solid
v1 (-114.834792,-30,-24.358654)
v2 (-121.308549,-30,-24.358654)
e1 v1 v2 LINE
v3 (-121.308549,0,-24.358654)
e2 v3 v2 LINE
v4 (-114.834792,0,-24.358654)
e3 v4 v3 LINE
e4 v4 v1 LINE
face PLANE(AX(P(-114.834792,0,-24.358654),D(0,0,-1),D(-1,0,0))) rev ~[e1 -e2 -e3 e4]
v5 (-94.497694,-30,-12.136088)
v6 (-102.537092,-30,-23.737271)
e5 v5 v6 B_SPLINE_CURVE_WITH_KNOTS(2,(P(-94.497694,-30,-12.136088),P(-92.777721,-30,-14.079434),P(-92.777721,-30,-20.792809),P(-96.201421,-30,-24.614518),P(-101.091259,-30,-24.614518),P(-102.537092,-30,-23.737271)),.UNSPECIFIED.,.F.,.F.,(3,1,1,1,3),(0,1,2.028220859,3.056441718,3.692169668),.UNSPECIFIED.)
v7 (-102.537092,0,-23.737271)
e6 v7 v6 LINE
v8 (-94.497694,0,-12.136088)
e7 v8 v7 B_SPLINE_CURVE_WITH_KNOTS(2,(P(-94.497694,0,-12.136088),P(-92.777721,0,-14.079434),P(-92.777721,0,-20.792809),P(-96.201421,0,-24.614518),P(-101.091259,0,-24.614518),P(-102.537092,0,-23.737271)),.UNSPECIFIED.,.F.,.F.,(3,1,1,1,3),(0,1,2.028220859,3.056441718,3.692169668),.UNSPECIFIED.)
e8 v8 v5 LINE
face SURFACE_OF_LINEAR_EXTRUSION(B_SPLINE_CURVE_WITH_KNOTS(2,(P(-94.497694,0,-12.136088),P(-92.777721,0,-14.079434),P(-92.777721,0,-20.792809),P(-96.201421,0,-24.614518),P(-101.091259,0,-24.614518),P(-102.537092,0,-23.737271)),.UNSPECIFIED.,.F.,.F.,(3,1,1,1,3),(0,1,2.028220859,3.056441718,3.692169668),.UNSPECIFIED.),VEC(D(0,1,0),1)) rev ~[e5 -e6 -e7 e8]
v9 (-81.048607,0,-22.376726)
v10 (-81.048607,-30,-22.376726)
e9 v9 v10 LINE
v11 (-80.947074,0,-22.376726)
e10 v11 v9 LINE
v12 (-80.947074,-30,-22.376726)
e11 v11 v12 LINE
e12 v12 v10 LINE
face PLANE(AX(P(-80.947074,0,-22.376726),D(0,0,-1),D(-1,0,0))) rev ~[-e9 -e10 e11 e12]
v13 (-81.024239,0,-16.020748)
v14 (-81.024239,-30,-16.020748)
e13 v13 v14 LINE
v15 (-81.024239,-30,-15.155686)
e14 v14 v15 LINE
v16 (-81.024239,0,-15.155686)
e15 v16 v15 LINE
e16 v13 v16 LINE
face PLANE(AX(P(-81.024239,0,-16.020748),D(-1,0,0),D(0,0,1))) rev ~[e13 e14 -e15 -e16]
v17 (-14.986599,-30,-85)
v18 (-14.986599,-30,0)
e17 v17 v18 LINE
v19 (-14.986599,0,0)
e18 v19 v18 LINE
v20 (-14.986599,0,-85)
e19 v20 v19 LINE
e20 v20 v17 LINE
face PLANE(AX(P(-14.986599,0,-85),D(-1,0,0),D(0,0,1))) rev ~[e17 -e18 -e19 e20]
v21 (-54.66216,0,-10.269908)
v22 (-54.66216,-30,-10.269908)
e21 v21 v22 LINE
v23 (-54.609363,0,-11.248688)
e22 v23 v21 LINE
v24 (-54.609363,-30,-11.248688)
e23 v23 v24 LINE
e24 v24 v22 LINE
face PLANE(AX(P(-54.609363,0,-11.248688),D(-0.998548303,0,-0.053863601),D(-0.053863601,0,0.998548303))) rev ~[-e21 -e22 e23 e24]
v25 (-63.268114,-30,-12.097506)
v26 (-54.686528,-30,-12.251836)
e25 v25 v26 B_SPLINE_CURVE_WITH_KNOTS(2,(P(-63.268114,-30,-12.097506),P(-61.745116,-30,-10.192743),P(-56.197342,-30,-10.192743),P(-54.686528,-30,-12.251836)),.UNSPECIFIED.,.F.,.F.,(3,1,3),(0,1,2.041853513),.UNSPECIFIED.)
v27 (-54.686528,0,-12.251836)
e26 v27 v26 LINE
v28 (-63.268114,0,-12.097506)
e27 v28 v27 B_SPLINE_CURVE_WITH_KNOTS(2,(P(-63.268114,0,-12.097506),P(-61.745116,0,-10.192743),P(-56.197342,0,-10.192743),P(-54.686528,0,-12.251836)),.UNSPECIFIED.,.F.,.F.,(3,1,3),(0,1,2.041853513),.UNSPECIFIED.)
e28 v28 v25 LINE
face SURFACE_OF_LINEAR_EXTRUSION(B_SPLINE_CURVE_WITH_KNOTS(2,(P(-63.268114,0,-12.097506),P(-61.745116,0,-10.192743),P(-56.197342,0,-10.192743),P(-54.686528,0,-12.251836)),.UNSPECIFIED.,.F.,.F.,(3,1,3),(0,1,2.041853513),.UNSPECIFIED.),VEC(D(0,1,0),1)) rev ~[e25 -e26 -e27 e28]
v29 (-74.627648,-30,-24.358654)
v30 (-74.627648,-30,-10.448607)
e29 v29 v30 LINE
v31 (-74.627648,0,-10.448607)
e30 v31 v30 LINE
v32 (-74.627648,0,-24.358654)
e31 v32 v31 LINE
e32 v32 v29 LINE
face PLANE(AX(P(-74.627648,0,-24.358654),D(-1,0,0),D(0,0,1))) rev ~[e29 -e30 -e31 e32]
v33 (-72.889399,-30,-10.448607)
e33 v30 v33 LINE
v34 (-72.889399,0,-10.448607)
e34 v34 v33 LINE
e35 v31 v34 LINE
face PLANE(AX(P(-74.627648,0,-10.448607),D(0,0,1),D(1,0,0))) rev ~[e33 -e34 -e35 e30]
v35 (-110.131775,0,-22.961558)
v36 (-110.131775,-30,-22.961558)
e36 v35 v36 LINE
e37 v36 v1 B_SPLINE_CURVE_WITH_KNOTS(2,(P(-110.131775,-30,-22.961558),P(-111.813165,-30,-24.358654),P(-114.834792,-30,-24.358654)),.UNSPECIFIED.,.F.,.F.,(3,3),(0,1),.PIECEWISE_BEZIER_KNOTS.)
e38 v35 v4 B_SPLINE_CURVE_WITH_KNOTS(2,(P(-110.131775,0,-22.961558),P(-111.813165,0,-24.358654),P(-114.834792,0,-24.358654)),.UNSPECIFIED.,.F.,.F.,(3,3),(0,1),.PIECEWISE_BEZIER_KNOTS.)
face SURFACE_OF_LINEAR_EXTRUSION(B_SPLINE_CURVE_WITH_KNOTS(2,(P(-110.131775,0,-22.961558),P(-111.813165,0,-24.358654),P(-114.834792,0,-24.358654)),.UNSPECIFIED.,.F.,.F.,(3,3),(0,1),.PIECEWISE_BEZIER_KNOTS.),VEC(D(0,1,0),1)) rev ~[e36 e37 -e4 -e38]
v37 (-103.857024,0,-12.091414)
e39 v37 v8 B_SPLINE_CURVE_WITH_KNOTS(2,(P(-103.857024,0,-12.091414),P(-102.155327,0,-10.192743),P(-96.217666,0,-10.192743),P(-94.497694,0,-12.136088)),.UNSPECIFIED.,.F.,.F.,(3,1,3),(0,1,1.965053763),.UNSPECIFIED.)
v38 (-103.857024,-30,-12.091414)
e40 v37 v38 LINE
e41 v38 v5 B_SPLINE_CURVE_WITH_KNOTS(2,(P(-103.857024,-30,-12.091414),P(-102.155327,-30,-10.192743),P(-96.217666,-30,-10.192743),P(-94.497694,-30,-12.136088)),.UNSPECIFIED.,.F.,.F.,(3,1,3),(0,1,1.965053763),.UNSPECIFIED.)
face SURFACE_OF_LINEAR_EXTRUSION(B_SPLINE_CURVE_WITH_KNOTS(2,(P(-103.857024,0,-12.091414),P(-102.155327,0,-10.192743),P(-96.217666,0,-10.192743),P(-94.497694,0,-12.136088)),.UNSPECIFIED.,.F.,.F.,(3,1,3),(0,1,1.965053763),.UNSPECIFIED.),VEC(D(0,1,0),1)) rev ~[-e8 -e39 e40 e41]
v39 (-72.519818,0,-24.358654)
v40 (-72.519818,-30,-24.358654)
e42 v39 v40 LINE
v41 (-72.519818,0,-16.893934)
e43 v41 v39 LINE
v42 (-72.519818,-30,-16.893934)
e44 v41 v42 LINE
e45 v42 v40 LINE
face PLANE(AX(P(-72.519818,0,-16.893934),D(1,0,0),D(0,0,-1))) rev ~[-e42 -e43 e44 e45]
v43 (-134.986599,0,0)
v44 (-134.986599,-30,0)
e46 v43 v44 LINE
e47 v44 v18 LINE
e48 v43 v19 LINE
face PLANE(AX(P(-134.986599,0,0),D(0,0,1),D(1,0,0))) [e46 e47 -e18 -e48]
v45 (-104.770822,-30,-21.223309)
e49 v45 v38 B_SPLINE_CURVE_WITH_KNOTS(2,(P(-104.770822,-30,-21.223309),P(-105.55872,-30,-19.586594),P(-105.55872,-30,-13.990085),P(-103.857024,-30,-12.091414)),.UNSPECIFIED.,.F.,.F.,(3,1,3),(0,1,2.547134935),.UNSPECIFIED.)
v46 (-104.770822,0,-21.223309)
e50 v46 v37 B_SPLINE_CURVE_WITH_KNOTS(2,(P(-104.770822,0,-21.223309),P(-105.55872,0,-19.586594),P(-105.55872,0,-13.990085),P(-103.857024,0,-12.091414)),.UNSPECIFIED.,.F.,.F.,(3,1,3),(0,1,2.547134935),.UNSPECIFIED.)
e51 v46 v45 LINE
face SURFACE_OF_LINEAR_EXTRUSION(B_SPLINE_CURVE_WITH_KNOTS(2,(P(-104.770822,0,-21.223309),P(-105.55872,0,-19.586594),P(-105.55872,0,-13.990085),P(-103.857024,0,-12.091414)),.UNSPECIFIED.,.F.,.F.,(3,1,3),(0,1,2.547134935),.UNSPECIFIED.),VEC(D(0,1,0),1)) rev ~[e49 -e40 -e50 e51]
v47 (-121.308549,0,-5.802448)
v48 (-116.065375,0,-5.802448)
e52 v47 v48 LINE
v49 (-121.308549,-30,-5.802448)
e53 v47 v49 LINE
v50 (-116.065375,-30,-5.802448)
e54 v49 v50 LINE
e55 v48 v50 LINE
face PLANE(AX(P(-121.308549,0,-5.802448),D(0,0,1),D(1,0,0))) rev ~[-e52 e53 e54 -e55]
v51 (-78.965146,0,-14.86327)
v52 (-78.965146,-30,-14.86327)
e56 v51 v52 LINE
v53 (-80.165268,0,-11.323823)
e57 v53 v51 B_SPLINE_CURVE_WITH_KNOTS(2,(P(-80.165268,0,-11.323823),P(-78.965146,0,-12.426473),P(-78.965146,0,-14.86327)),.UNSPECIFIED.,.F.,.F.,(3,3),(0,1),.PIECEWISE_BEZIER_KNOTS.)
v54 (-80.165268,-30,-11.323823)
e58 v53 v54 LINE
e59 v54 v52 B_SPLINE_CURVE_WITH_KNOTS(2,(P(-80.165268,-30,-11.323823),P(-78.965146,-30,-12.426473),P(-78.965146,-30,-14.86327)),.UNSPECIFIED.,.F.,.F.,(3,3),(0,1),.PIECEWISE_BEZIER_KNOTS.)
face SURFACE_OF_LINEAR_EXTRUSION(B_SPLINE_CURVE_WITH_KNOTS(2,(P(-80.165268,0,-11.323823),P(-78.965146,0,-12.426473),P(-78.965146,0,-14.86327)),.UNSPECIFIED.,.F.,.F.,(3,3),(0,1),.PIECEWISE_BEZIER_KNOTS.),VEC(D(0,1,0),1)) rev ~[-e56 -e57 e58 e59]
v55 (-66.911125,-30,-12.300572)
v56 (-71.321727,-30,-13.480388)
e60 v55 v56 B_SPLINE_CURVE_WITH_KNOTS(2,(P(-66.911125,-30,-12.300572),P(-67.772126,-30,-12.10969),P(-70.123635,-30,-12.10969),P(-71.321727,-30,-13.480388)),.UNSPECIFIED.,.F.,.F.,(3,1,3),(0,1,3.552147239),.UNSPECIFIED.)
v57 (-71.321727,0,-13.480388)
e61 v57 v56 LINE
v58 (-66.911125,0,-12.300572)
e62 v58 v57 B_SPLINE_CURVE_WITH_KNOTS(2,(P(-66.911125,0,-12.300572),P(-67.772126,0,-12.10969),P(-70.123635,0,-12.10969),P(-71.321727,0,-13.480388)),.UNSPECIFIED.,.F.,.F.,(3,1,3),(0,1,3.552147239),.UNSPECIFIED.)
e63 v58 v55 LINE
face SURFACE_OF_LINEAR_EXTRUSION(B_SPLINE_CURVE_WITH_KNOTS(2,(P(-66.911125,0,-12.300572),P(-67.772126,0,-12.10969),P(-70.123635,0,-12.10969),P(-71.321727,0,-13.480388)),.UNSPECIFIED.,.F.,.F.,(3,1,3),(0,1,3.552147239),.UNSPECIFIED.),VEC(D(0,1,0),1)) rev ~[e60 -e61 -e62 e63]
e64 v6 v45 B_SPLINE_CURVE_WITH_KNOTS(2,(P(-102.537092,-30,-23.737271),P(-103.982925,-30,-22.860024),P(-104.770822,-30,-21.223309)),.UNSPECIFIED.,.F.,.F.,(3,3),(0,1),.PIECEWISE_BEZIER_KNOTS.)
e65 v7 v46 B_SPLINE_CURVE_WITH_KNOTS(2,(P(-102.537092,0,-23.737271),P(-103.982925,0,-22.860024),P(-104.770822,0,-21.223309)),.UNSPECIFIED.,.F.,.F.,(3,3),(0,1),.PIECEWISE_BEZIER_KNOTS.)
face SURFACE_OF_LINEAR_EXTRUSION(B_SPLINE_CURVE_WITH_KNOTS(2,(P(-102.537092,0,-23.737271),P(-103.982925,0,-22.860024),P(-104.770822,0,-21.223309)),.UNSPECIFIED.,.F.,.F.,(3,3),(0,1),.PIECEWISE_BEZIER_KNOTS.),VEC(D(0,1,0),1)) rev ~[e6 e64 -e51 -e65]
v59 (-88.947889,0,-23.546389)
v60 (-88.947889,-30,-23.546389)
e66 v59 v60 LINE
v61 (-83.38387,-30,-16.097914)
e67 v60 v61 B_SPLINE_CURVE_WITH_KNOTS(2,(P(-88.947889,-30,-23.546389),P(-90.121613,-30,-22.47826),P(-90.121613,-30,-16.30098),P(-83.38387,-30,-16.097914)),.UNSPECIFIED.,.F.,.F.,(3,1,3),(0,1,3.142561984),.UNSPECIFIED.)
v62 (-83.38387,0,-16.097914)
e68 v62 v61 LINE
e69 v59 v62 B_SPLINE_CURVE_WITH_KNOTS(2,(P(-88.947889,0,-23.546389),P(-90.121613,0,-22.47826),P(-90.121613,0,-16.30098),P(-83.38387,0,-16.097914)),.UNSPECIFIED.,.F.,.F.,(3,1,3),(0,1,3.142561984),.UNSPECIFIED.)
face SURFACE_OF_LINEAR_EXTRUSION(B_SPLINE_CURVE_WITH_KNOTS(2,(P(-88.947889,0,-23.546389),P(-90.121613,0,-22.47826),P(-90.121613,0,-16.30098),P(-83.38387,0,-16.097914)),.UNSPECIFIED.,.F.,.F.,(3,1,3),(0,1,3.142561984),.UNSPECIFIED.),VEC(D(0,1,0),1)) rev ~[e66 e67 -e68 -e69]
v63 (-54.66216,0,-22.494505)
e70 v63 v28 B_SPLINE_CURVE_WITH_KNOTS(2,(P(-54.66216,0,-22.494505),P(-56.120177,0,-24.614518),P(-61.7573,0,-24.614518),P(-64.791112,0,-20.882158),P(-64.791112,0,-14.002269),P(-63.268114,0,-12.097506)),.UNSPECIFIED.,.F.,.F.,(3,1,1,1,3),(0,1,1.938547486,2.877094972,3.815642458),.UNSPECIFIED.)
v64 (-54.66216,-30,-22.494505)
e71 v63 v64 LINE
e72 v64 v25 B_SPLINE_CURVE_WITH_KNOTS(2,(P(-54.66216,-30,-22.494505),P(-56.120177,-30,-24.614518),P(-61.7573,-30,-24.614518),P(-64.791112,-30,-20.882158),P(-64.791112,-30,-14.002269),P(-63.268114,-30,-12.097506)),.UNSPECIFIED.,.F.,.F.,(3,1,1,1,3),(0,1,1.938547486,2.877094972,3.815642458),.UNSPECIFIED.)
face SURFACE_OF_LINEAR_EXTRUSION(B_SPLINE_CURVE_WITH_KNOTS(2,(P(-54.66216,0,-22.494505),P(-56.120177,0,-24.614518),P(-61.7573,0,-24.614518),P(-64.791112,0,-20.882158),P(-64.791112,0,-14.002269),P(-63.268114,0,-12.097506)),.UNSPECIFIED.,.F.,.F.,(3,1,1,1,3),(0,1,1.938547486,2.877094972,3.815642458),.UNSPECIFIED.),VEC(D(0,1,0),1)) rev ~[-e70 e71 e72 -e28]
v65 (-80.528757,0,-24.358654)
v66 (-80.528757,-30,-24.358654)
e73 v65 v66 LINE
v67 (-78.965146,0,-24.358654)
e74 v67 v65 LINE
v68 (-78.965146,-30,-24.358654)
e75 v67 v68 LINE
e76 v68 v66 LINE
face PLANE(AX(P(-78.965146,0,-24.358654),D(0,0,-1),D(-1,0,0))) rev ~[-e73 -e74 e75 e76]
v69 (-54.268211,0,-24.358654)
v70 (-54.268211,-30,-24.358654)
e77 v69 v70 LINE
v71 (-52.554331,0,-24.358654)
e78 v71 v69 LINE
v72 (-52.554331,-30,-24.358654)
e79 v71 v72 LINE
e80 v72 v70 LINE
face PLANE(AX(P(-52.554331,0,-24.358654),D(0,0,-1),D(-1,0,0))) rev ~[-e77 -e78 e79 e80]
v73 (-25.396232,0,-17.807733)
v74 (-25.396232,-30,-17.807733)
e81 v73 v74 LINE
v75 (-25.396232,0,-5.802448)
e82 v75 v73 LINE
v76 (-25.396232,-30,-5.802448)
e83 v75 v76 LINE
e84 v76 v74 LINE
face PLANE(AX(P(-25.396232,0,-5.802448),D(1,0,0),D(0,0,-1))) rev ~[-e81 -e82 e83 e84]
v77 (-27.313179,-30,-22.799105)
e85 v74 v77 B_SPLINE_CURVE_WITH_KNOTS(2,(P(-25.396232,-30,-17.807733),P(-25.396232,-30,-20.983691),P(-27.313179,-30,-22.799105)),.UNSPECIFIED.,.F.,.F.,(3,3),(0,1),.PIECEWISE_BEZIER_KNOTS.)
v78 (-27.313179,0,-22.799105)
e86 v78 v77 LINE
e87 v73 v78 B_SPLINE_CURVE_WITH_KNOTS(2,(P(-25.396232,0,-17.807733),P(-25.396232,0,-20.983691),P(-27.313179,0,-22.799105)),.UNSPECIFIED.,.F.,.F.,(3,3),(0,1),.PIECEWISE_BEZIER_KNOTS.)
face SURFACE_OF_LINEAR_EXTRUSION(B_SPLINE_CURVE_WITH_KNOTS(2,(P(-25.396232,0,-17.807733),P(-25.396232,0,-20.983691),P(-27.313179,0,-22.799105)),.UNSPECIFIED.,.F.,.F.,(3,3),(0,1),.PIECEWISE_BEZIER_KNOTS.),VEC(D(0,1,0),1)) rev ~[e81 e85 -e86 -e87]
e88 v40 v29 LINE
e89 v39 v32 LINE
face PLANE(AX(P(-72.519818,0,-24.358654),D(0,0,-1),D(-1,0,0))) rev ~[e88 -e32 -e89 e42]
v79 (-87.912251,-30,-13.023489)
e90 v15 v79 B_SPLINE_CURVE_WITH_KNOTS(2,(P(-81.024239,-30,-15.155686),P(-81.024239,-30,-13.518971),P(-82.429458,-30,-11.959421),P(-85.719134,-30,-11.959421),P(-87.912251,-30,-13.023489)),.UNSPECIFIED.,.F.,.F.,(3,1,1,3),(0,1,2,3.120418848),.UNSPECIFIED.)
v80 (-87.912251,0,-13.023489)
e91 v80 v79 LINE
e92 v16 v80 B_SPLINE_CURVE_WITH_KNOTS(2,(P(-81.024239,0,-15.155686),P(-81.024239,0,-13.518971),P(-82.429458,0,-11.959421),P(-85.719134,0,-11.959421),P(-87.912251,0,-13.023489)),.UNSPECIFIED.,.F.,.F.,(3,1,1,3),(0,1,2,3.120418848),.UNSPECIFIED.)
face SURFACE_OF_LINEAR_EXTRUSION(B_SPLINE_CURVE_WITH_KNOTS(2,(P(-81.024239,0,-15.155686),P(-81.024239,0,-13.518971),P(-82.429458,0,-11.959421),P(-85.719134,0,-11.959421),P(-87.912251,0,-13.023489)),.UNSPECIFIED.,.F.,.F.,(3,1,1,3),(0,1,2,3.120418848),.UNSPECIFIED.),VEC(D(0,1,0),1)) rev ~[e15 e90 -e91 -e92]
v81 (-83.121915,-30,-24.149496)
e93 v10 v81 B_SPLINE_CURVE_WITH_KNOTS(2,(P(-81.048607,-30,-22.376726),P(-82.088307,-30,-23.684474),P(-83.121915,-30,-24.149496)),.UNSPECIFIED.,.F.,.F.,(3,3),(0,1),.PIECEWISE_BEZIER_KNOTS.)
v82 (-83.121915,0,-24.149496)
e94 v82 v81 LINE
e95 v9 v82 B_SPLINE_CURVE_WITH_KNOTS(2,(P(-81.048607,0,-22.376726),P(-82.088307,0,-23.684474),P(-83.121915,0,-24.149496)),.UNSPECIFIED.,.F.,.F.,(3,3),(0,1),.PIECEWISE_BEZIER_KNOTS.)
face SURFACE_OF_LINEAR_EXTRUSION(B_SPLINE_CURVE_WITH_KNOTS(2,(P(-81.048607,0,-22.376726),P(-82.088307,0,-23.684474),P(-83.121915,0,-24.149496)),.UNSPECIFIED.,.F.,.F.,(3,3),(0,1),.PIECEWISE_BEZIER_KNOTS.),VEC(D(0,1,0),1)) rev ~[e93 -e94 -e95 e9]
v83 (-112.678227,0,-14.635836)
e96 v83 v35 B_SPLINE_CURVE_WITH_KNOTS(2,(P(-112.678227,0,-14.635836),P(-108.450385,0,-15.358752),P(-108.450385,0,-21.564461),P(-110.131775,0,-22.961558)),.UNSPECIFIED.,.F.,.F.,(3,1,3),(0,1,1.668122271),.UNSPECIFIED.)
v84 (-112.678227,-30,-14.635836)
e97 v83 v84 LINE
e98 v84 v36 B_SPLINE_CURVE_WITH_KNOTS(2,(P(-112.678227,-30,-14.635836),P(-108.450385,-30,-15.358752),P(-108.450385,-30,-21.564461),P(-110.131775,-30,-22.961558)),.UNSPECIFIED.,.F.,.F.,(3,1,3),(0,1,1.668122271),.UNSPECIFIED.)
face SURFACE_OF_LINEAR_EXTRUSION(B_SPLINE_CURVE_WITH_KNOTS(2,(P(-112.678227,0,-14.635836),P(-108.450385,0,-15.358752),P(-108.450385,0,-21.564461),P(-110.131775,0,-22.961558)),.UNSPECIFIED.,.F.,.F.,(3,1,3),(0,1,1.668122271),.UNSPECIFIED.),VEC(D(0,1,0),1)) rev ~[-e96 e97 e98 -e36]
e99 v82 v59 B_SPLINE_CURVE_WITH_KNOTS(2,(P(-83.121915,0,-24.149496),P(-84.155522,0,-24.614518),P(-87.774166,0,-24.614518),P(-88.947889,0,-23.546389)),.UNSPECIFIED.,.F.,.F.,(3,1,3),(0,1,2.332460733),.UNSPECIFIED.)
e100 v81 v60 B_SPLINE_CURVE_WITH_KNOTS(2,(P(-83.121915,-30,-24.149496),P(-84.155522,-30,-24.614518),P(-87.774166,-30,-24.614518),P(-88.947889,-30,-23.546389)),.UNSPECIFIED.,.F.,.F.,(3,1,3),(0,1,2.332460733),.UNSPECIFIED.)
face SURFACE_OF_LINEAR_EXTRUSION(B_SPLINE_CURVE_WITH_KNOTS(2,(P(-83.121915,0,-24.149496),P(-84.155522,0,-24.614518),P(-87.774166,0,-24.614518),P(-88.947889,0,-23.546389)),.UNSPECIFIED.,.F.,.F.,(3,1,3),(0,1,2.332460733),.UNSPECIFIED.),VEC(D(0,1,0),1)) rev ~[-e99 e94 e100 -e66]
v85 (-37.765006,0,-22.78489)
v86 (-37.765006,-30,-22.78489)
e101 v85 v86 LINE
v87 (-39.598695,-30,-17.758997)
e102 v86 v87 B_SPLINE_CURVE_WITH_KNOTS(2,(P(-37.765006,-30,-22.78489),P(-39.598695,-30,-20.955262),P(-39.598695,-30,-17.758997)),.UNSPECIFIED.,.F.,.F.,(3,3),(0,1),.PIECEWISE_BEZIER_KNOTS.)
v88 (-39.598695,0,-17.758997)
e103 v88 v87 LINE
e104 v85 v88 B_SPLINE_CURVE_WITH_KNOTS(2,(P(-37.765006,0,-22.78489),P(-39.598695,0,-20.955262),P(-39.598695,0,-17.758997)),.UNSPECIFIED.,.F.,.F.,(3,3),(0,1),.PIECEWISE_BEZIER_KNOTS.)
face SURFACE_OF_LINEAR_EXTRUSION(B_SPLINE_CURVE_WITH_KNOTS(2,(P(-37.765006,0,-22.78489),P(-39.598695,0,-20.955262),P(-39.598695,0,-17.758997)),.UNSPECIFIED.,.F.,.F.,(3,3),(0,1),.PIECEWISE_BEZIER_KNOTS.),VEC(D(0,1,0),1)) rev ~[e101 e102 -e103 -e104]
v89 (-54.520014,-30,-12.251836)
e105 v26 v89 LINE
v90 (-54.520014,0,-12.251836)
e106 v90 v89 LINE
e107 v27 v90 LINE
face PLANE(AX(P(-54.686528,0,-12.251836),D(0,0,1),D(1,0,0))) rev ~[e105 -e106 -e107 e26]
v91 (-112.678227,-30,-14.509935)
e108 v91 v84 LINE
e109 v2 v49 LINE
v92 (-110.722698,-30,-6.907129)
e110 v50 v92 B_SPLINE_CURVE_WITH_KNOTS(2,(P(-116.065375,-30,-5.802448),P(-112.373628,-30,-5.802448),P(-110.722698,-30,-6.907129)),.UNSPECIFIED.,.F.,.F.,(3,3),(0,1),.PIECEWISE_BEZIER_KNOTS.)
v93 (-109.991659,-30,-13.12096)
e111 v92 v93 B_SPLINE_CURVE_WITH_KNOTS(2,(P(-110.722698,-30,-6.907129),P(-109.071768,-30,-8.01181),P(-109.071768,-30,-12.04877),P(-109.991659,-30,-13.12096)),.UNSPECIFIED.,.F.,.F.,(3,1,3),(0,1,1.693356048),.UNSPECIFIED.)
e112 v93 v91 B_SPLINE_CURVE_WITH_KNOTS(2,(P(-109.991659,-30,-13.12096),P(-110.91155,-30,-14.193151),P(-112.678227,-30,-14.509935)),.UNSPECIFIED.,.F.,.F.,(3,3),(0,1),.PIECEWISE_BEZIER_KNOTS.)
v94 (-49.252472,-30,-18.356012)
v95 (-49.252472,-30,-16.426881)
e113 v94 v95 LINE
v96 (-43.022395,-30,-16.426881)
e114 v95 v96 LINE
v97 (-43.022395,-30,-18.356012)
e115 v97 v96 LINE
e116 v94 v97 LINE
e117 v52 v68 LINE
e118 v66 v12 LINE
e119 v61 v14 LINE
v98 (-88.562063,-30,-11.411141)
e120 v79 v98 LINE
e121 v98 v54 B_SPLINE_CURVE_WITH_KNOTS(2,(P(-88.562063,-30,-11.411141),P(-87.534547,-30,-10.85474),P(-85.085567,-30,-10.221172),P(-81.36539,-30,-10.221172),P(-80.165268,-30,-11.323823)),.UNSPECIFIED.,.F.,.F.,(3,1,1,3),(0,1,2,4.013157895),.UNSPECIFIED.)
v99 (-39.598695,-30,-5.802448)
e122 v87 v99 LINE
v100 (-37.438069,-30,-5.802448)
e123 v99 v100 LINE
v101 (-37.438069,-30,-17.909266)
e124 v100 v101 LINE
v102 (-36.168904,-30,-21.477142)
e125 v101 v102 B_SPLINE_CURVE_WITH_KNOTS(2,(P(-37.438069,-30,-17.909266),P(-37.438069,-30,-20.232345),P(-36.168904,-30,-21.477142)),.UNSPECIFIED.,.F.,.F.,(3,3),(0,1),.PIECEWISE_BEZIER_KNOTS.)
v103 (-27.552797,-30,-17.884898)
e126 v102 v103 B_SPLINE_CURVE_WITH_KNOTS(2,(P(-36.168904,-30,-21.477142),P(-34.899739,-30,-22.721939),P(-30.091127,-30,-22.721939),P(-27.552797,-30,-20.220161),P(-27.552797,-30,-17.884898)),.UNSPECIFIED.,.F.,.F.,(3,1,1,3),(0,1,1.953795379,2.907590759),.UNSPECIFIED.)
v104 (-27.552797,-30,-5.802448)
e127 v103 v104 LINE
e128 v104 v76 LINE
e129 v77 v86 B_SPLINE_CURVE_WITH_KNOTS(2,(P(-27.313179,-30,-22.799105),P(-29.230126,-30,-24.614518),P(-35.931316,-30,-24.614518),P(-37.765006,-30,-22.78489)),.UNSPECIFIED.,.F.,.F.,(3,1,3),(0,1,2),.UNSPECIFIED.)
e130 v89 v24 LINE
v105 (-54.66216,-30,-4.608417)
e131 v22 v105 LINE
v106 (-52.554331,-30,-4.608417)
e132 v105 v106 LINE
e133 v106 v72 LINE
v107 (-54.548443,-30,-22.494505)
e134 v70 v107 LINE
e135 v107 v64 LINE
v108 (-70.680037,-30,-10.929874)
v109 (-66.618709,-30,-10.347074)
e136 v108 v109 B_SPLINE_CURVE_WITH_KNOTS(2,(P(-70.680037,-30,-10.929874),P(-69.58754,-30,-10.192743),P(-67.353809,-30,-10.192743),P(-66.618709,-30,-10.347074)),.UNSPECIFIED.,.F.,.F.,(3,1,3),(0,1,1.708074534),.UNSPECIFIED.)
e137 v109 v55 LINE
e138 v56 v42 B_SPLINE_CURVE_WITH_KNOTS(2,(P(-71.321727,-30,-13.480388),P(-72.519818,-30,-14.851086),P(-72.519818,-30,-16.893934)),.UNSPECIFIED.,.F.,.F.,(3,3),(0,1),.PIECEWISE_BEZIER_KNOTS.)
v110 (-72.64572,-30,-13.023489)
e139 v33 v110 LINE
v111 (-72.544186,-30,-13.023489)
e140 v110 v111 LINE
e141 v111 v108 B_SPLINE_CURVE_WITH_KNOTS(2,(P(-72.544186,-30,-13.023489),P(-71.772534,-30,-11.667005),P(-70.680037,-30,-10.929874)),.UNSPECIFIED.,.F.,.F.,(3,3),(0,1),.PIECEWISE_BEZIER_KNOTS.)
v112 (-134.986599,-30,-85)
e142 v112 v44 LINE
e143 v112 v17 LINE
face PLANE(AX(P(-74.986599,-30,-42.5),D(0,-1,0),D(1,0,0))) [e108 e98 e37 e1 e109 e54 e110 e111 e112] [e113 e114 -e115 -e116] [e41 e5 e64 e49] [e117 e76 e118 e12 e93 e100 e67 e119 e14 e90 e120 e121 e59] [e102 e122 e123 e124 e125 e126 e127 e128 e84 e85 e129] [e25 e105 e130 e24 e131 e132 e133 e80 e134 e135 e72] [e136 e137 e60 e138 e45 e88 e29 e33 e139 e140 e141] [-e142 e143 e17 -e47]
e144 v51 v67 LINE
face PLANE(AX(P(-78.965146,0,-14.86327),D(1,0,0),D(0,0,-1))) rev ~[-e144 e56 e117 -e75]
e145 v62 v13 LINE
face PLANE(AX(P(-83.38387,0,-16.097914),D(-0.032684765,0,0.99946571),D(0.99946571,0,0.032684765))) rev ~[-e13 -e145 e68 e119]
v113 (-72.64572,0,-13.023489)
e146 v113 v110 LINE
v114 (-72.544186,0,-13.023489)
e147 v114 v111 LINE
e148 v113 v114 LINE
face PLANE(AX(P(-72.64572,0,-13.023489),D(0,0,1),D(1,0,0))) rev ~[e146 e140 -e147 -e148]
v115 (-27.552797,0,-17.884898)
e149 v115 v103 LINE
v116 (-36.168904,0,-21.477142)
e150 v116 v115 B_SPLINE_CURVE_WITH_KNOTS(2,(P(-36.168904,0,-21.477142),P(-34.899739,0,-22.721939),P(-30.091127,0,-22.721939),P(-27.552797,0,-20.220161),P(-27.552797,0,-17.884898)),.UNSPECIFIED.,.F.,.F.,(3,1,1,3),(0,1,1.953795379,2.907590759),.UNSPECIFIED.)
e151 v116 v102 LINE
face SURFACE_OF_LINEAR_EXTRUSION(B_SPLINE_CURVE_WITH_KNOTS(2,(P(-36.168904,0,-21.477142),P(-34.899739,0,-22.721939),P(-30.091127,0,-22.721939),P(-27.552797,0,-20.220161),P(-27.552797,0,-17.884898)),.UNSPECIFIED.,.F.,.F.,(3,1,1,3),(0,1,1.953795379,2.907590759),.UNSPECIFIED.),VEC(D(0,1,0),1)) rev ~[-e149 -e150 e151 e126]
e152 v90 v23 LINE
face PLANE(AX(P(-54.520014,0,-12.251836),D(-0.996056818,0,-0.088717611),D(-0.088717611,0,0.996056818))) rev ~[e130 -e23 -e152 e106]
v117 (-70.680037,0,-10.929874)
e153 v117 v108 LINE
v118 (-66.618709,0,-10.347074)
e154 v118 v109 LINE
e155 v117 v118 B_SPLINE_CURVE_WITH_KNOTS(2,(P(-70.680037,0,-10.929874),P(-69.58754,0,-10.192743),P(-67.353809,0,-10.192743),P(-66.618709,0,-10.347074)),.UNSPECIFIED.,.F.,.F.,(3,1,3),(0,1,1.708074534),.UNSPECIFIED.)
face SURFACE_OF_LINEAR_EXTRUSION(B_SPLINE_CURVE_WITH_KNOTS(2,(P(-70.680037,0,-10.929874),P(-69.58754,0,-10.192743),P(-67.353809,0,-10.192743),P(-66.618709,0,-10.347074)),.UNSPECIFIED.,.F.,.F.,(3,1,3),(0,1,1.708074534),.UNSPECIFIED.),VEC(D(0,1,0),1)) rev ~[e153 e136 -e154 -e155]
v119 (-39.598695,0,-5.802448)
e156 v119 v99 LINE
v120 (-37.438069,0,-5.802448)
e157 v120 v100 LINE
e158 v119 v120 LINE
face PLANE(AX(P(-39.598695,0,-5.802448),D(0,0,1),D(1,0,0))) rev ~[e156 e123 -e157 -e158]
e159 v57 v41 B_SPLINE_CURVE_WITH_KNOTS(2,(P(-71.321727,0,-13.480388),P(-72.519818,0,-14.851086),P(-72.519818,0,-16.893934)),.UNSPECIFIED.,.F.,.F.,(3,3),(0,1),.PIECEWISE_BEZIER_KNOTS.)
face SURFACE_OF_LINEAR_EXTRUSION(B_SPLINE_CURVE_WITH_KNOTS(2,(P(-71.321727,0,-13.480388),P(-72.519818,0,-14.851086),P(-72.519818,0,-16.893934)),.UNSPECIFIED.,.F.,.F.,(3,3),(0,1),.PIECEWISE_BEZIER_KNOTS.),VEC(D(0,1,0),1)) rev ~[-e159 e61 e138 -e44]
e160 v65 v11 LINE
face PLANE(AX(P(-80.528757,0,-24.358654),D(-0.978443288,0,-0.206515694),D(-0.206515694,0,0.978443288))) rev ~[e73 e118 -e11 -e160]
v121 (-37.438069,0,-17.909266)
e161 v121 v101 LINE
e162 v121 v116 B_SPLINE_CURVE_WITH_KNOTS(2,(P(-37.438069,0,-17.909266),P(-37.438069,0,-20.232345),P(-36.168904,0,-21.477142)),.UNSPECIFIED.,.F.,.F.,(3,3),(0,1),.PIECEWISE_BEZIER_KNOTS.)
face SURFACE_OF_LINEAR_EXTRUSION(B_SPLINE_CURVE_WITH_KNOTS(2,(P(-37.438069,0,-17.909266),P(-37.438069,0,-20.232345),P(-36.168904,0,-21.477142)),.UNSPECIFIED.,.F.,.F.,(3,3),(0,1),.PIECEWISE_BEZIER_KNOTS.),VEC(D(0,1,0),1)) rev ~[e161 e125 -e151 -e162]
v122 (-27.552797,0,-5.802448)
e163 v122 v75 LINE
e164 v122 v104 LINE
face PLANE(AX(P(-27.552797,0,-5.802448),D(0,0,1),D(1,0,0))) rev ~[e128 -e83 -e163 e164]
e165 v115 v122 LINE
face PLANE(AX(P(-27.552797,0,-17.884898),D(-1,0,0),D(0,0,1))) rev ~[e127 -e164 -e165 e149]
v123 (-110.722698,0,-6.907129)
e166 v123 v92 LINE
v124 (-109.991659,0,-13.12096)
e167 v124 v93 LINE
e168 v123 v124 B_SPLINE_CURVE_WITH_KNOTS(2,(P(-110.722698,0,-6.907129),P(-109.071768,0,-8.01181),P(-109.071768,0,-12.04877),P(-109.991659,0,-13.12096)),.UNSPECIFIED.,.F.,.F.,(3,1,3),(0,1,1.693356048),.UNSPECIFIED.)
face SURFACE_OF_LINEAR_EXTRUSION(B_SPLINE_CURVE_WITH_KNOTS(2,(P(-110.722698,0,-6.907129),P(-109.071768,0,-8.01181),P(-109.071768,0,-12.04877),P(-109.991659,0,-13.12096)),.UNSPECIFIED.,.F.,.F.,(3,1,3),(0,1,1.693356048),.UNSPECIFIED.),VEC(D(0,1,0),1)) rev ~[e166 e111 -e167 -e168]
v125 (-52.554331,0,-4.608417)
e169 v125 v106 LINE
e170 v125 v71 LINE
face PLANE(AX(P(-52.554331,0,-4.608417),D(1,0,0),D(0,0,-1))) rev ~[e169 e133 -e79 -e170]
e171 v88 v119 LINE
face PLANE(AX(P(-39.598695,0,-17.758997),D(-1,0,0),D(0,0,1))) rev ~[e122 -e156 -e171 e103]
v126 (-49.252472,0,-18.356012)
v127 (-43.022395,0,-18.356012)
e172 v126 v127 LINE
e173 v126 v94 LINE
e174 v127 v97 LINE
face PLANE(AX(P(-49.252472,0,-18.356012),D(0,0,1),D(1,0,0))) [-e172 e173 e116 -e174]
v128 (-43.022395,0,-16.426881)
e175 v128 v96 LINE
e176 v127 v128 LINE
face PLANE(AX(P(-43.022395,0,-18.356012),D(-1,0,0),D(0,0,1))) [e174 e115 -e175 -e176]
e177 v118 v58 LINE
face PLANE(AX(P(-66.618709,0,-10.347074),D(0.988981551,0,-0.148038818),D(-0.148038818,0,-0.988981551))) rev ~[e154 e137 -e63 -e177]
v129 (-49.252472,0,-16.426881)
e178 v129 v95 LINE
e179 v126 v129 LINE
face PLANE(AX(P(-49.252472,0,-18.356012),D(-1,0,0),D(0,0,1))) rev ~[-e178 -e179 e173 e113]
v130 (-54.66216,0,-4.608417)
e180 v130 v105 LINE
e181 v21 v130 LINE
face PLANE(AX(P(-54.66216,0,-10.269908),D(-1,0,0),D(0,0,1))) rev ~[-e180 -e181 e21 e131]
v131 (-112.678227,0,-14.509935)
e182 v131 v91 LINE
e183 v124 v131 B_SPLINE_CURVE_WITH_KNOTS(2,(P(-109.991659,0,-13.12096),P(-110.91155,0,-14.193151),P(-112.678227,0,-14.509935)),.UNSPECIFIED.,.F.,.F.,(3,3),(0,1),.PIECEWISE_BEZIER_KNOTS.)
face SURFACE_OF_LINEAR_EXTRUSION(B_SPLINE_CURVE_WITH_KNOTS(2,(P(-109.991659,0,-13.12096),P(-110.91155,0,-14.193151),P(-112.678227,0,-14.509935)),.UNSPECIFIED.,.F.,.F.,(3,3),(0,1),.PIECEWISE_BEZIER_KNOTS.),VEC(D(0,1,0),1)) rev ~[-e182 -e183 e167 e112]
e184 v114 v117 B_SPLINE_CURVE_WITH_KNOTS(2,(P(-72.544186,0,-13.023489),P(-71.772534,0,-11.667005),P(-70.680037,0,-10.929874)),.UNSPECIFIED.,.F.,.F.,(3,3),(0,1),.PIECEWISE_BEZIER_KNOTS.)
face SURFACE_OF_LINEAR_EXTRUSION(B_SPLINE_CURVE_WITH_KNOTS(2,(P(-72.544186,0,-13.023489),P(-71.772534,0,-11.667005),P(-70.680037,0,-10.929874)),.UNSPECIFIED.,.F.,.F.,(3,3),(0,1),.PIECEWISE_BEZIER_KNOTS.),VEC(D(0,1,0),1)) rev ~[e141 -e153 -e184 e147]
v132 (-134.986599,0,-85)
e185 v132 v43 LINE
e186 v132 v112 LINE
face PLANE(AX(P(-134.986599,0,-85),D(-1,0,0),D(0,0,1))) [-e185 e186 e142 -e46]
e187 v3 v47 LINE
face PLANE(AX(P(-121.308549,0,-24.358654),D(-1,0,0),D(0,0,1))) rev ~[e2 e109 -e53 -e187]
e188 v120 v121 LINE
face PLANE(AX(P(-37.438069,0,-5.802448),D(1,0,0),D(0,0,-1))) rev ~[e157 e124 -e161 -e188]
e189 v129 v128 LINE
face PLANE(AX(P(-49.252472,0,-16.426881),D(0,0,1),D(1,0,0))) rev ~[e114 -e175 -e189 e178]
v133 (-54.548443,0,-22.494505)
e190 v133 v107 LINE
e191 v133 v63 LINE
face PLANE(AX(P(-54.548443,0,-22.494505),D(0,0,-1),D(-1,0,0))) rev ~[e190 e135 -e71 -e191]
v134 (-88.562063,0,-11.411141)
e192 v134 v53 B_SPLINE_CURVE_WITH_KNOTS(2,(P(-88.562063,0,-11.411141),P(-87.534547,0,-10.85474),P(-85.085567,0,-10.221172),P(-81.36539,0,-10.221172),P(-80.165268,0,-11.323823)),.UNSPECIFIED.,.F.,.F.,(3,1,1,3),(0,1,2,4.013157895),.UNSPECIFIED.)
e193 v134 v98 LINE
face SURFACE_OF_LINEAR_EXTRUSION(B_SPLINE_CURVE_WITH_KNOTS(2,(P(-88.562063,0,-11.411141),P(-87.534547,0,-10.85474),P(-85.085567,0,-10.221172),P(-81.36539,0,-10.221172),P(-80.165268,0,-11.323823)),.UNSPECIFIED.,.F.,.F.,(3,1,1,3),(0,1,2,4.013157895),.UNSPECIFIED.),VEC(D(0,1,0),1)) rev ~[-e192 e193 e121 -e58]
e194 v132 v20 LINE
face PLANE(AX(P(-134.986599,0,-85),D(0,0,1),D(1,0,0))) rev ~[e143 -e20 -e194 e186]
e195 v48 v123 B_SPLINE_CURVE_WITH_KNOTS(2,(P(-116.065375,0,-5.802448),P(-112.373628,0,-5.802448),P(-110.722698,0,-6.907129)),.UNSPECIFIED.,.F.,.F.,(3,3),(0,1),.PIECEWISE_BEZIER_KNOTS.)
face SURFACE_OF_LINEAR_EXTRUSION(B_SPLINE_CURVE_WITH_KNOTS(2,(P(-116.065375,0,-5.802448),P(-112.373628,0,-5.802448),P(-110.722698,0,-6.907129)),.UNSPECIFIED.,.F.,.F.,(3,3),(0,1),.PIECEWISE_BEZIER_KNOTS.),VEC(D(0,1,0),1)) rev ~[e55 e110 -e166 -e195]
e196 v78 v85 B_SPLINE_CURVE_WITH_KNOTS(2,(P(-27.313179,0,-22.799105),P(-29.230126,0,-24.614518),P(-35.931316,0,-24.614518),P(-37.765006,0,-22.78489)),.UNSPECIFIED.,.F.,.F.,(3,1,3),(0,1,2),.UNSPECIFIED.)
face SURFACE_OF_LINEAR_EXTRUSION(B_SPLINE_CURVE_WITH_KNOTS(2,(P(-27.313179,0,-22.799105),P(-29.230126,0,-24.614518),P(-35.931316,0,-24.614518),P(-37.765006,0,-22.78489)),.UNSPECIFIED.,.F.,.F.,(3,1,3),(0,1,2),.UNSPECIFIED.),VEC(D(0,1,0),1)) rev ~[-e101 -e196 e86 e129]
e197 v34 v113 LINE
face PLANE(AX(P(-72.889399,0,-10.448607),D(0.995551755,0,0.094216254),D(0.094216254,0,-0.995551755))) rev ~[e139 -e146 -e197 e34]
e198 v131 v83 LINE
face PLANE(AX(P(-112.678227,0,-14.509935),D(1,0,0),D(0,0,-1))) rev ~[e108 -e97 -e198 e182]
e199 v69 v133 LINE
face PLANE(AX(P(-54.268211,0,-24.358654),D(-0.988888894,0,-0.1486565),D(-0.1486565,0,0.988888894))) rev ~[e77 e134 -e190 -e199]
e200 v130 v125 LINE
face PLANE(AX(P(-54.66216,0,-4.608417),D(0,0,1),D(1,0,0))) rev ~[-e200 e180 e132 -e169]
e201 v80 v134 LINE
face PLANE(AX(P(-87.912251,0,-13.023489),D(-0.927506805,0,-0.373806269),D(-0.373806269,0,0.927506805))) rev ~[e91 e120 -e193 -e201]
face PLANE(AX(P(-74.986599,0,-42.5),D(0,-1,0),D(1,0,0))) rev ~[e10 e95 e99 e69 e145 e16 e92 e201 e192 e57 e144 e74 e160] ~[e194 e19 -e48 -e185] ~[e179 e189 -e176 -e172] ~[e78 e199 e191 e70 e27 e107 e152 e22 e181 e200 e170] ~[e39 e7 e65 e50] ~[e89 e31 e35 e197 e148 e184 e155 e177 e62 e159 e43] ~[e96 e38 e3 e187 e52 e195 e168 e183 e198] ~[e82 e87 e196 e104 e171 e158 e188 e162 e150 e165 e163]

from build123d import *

# Parameters (mm, degrees)
F0_W     = 120
F0_H     = 85
F0_W_2   = 6.2300768045
F0_H_2   = 1.9291306924
F1_DEPTH = 30


with BuildPart() as f1:
    # F0 (on Front) → F1 (new body)
    with BuildSketch(Plane.XZ):
        with Locations((-74.9865994975, -42.5)):
            Rectangle(F0_W, F0_H)
        with BuildLine():
            Line((-121.3085489491, -24.3586543947), (-121.3085489491, -5.8024477979))
            Line((-121.3085489491, -5.8024477979), (-116.0653747936, -5.8024477979))
            add(Edge.make_bspline(
                [(-116.0653747936, -5.8024477979), (-112.3736278476, -5.8024477979), (-110.7226981077, -6.9071289523)],
                knots=[0, 0, 0, 1, 1, 1], degree=2))
            add(Edge.make_bspline(
                [(-110.7226981077, -6.9071289523), (-109.0717683678, -8.0118101066), (-109.0717683678, -10.3958095096)],
                knots=[0, 0, 0, 1, 1, 1], degree=2))
            add(Edge.make_bspline(
                [(-109.0717683678, -10.3958095096), (-109.0717683678, -12.0487699134), (-109.9916591084, -13.1209604456)],
                knots=[0, 0, 0, 1, 1, 1], degree=2))
            add(Edge.make_bspline(
                [(-109.9916591084, -13.1209604456), (-110.9115498491, -14.1931509778), (-112.6782274306, -14.5099345441)],
                knots=[0, 0, 0, 1, 1, 1], degree=2))
            Line((-112.6782274306, -14.5099345441), (-112.6782274306, -14.6358357051))
            add(Edge.make_bspline(
                [(-112.6782274306, -14.6358357051), (-108.4503852184, -15.3587520488), (-108.4503852184, -19.0789282893)],
                knots=[0, 0, 0, 1, 1, 1], degree=2))
            add(Edge.make_bspline(
                [(-108.4503852184, -19.0789282893), (-108.4503852184, -21.5644608866), (-110.1317749166, -22.9615576407)],
                knots=[0, 0, 0, 1, 1, 1], degree=2))
            add(Edge.make_bspline(
                [(-110.1317749166, -22.9615576407), (-111.8131646148, -24.3586543947), (-114.8347924783, -24.3586543947)],
                knots=[0, 0, 0, 1, 1, 1], degree=2))
            Line((-114.8347924783, -24.3586543947), (-121.3085489491, -24.3586543947))
        make_face(mode=Mode.SUBTRACT)
        with BuildLine():
            add(Edge.make_bspline(
                [(-94.4976936528, -12.1360884606), (-92.7777213407, -14.0794338002), (-92.7777213407, -17.3894159355)],
                knots=[0, 0, 0, 1, 1, 1], degree=2))
            add(Edge.make_bspline(
                [(-92.7777213407, -17.3894159355), (-92.7777213407, -20.7928086097), (-94.4895709972, -22.7036633271)],
                knots=[0, 0, 0, 1, 1, 1], degree=2))
            add(Edge.make_bspline(
                [(-94.4895709972, -22.7036633271), (-96.2014206537, -24.6145180445), (-99.2230485172, -24.6145180445)],
                knots=[0, 0, 0, 1, 1, 1], degree=2))
            add(Edge.make_bspline(
                [(-99.2230485172, -24.6145180445), (-101.0912592929, -24.6145180445), (-102.5370919803, -23.7372712454)],
                knots=[0, 0, 0, 1, 1, 1], degree=2))
            add(Edge.make_bspline(
                [(-102.5370919803, -23.7372712454), (-103.9829246676, -22.8600244463), (-104.7708222557, -21.2233093536)],
                knots=[0, 0, 0, 1, 1, 1], degree=2))
            add(Edge.make_bspline(
                [(-104.7708222557, -21.2233093536), (-105.5587198437, -19.5865942609), (-105.5587198437, -17.3894159355)],
                knots=[0, 0, 0, 1, 1, 1], degree=2))
            add(Edge.make_bspline(
                [(-105.5587198437, -17.3894159355), (-105.5587198437, -13.9900845891), (-103.8570235067, -12.0914138551)],
                knots=[0, 0, 0, 1, 1, 1], degree=2))
            add(Edge.make_bspline(
                [(-103.8570235067, -12.0914138551), (-102.1553271696, -10.192743121), (-99.1336993061, -10.192743121)],
                knots=[0, 0, 0, 1, 1, 1], degree=2))
            add(Edge.make_bspline(
                [(-99.1336993061, -10.192743121), (-96.2176659648, -10.192743121), (-94.4976936528, -12.1360884606)],
                knots=[0, 0, 0, 1, 1, 1], degree=2))
        make_face(mode=Mode.SUBTRACT)
        with BuildLine():
            Line((-78.9651455832, -24.3586543947), (-80.528756776, -24.3586543947))
            Line((-80.528756776, -24.3586543947), (-80.9470735367, -22.3767264413))
            Line((-80.9470735367, -22.3767264413), (-81.048606731, -22.3767264413))
            add(Edge.make_bspline(
                [(-81.048606731, -22.3767264413), (-82.088306641, -23.6844739844), (-83.1219145593, -24.1494960144)],
                knots=[0, 0, 0, 1, 1, 1], degree=2))
            add(Edge.make_bspline(
                [(-83.1219145593, -24.1494960144), (-84.1555224777, -24.6145180445), (-85.7069496871, -24.6145180445)],
                knots=[0, 0, 0, 1, 1, 1], degree=2))
            add(Edge.make_bspline(
                [(-85.7069496871, -24.6145180445), (-87.7741655238, -24.6145180445), (-88.9478892503, -23.5463888401)],
                knots=[0, 0, 0, 1, 1, 1], degree=2))
            add(Edge.make_bspline(
                [(-88.9478892503, -23.5463888401), (-90.1216129769, -22.4782596356), (-90.1216129769, -20.5125769933)],
                knots=[0, 0, 0, 1, 1, 1], degree=2))
            add(Edge.make_bspline(
                [(-90.1216129769, -20.5125769933), (-90.1216129769, -16.3009800922), (-83.3838702007, -16.0979137036)],
                knots=[0, 0, 0, 1, 1, 1], degree=2))
            Line((-83.3838702007, -16.0979137036), (-81.0242387644, -16.0207484759))
            Line((-81.0242387644, -16.0207484759), (-81.0242387644, -15.1556856601))
            add(Edge.make_bspline(
                [(-81.0242387644, -15.1556856601), (-81.0242387644, -13.5189705674), (-81.7268484692, -12.7391956349)],
                knots=[0, 0, 0, 1, 1, 1], degree=2))
            add(Edge.make_bspline(
                [(-81.7268484692, -12.7391956349), (-82.429458174, -11.9594207024), (-83.9808853834, -11.9594207024)],
                knots=[0, 0, 0, 1, 1, 1], degree=2))
            add(Edge.make_bspline(
                [(-83.9808853834, -11.9594207024), (-85.7191336705, -11.9594207024), (-87.9122506681, -13.0234885791)],
                knots=[0, 0, 0, 1, 1, 1], degree=2))
            Line((-87.9122506681, -13.0234885791), (-88.5620631119, -11.411141453))
            add(Edge.make_bspline(
                [(-88.5620631119, -11.411141453), (-87.5345471852, -10.854739548), (-86.3100568615, -10.5379559817)],
                knots=[0, 0, 0, 1, 1, 1], degree=2))
            add(Edge.make_bspline(
                [(-86.3100568615, -10.5379559817), (-85.0855665378, -10.2211724154), (-83.8509228947, -10.2211724154)],
                knots=[0, 0, 0, 1, 1, 1], degree=2))
            add(Edge.make_bspline(
                [(-83.8509228947, -10.2211724154), (-81.3653902973, -10.2211724154), (-80.1652679403, -11.3238229059)],
                knots=[0, 0, 0, 1, 1, 1], degree=2))
            add(Edge.make_bspline(
                [(-80.1652679403, -11.3238229059), (-78.9651455832, -12.4264733964), (-78.9651455832, -14.8632700604)],
                knots=[0, 0, 0, 1, 1, 1], degree=2))
            Line((-78.9651455832, -14.8632700604), (-78.9651455832, -24.3586543947))
        make_face(mode=Mode.SUBTRACT)
        with BuildLine():
            add(Edge.make_bspline(
                [(-70.6800369254, -10.9298741119), (-69.5875397543, -10.192743121), (-68.2797922113, -10.192743121)],
                knots=[0, 0, 0, 1, 1, 1], degree=2))
            add(Edge.make_bspline(
                [(-68.2797922113, -10.192743121), (-67.3538094789, -10.192743121), (-66.618709152, -10.3470735764)],
                knots=[0, 0, 0, 1, 1, 1], degree=2))
            Line((-66.618709152, -10.3470735764), (-66.9111247516, -12.3005722354))
            add(Edge.make_bspline(
                [(-66.9111247516, -12.3005722354), (-67.7721262396, -12.10968983), (-68.4341226667, -12.10968983)],
                knots=[0, 0, 0, 1, 1, 1], degree=2))
            add(Edge.make_bspline(
                [(-68.4341226667, -12.10968983), (-70.1236350204, -12.10968983), (-71.3217267136, -13.4803879536)],
                knots=[0, 0, 0, 1, 1, 1], degree=2))
            add(Edge.make_bspline(
                [(-71.3217267136, -13.4803879536), (-72.5198184068, -14.8510860771), (-72.5198184068, -16.8939339472)],
                knots=[0, 0, 0, 1, 1, 1], degree=2))
            Line((-72.5198184068, -16.8939339472), (-72.5198184068, -24.3586543947))
            Line((-72.5198184068, -24.3586543947), (-74.6276475212, -24.3586543947))
            Line((-74.6276475212, -24.3586543947), (-74.6276475212, -10.4486067707))
            Line((-74.6276475212, -10.4486067707), (-72.8893992342, -10.4486067707))
            Line((-72.8893992342, -10.4486067707), (-72.6457195677, -13.0234885791))
            Line((-72.6457195677, -13.0234885791), (-72.5441863734, -13.0234885791))
            add(Edge.make_bspline(
                [(-72.5441863734, -13.0234885791), (-71.7725340965, -11.6670051027), (-70.6800369254, -10.9298741119)],
                knots=[0, 0, 0, 1, 1, 1], degree=2))
        make_face(mode=Mode.SUBTRACT)
        with Locations((-46.1374331905, -17.3914465994)):
            Rectangle(F0_W_2, F0_H_2, mode=Mode.SUBTRACT)
        with BuildLine():
            Line((-54.2682113929, -24.3586543947), (-54.5484430093, -22.4945049467))
            Line((-54.5484430093, -22.4945049467), (-54.6621601869, -22.4945049467))
            add(Edge.make_bspline(
                [(-54.6621601869, -22.4945049467), (-56.1201768576, -24.6145180445), (-59.0280875434, -24.6145180445)],
                knots=[0, 0, 0, 1, 1, 1], degree=2))
            add(Edge.make_bspline(
                [(-59.0280875434, -24.6145180445), (-61.7572998071, -24.6145180445), (-63.2742057305, -22.7483379326)],
                knots=[0, 0, 0, 1, 1, 1], degree=2))
            add(Edge.make_bspline(
                [(-63.2742057305, -22.7483379326), (-64.7911116539, -20.8821578207), (-64.7911116539, -17.4422131966)],
                knots=[0, 0, 0, 1, 1, 1], degree=2))
            add(Edge.make_bspline(
                [(-64.7911116539, -17.4422131966), (-64.7911116539, -14.0022685725), (-63.2681137389, -12.0975058467)],
                knots=[0, 0, 0, 1, 1, 1], degree=2))
            add(Edge.make_bspline(
                [(-63.2681137389, -12.0975058467), (-61.7451158238, -10.192743121), (-59.0280875434, -10.192743121)],
                knots=[0, 0, 0, 1, 1, 1], degree=2))
            add(Edge.make_bspline(
                [(-59.0280875434, -10.192743121), (-56.1973420853, -10.192743121), (-54.6865281536, -12.2518363021)],
                knots=[0, 0, 0, 1, 1, 1], degree=2))
            Line((-54.6865281536, -12.2518363021), (-54.5200137149, -12.2518363021))
            Line((-54.5200137149, -12.2518363021), (-54.6093629259, -11.2486883421))
            Line((-54.6093629259, -11.2486883421), (-54.6621601869, -10.2699083487))
            Line((-54.6621601869, -10.2699083487), (-54.6621601869, -4.6084174325))
            Line((-54.6621601869, -4.6084174325), (-52.5543310725, -4.6084174325))
            Line((-52.5543310725, -4.6084174325), (-52.5543310725, -24.3586543947))
            Line((-52.5543310725, -24.3586543947), (-54.2682113929, -24.3586543947))
        make_face(mode=Mode.SUBTRACT)
        with BuildLine():
            Line((-27.5527972992, -5.8024477979), (-25.3962322515, -5.8024477979))
            Line((-25.3962322515, -5.8024477979), (-25.3962322515, -17.8077326962))
            add(Edge.make_bspline(
                [(-25.3962322515, -17.8077326962), (-25.3962322515, -20.983691015), (-27.3131789606, -22.7991045297)],
                knots=[0, 0, 0, 1, 1, 1], degree=2))
            add(Edge.make_bspline(
                [(-27.3131789606, -22.7991045297), (-29.2301256696, -24.6145180445), (-32.5807210827, -24.6145180445)],
                knots=[0, 0, 0, 1, 1, 1], degree=2))
            add(Edge.make_bspline(
                [(-32.5807210827, -24.6145180445), (-35.9313164958, -24.6145180445), (-37.7650059855, -22.7848898825)],
                knots=[0, 0, 0, 1, 1, 1], degree=2))
            add(Edge.make_bspline(
                [(-37.7650059855, -22.7848898825), (-39.5986954752, -20.9552617206), (-39.5986954752, -17.7589967629)],
                knots=[0, 0, 0, 1, 1, 1], degree=2))
            Line((-39.5986954752, -17.7589967629), (-39.5986954752, -5.8024477979))
            Line((-39.5986954752, -5.8024477979), (-37.4380690998, -5.8024477979))
            Line((-37.4380690998, -5.8024477979), (-37.4380690998, -17.9092658905))
            add(Edge.make_bspline(
                [(-37.4380690998, -17.9092658905), (-37.4380690998, -20.2323453769), (-36.1689041706, -21.4771423395)],
                knots=[0, 0, 0, 1, 1, 1], degree=2))
            add(Edge.make_bspline(
                [(-36.1689041706, -21.4771423395), (-34.8997392414, -22.721939302), (-32.4385746106, -22.721939302)],
                knots=[0, 0, 0, 1, 1, 1], degree=2))
            add(Edge.make_bspline(
                [(-32.4385746106, -22.721939302), (-30.0911271576, -22.721939302), (-28.8219622284, -21.4710503478)],
                knots=[0, 0, 0, 1, 1, 1], degree=2))
            add(Edge.make_bspline(
                [(-28.8219622284, -21.4710503478), (-27.5527972992, -20.2201613936), (-27.5527972992, -17.8848979239)],
                knots=[0, 0, 0, 1, 1, 1], degree=2))
            Line((-27.5527972992, -17.8848979239), (-27.5527972992, -5.8024477979))
        make_face(mode=Mode.SUBTRACT)
    extrude(amount=F1_DEPTH)


solid = f1.part
